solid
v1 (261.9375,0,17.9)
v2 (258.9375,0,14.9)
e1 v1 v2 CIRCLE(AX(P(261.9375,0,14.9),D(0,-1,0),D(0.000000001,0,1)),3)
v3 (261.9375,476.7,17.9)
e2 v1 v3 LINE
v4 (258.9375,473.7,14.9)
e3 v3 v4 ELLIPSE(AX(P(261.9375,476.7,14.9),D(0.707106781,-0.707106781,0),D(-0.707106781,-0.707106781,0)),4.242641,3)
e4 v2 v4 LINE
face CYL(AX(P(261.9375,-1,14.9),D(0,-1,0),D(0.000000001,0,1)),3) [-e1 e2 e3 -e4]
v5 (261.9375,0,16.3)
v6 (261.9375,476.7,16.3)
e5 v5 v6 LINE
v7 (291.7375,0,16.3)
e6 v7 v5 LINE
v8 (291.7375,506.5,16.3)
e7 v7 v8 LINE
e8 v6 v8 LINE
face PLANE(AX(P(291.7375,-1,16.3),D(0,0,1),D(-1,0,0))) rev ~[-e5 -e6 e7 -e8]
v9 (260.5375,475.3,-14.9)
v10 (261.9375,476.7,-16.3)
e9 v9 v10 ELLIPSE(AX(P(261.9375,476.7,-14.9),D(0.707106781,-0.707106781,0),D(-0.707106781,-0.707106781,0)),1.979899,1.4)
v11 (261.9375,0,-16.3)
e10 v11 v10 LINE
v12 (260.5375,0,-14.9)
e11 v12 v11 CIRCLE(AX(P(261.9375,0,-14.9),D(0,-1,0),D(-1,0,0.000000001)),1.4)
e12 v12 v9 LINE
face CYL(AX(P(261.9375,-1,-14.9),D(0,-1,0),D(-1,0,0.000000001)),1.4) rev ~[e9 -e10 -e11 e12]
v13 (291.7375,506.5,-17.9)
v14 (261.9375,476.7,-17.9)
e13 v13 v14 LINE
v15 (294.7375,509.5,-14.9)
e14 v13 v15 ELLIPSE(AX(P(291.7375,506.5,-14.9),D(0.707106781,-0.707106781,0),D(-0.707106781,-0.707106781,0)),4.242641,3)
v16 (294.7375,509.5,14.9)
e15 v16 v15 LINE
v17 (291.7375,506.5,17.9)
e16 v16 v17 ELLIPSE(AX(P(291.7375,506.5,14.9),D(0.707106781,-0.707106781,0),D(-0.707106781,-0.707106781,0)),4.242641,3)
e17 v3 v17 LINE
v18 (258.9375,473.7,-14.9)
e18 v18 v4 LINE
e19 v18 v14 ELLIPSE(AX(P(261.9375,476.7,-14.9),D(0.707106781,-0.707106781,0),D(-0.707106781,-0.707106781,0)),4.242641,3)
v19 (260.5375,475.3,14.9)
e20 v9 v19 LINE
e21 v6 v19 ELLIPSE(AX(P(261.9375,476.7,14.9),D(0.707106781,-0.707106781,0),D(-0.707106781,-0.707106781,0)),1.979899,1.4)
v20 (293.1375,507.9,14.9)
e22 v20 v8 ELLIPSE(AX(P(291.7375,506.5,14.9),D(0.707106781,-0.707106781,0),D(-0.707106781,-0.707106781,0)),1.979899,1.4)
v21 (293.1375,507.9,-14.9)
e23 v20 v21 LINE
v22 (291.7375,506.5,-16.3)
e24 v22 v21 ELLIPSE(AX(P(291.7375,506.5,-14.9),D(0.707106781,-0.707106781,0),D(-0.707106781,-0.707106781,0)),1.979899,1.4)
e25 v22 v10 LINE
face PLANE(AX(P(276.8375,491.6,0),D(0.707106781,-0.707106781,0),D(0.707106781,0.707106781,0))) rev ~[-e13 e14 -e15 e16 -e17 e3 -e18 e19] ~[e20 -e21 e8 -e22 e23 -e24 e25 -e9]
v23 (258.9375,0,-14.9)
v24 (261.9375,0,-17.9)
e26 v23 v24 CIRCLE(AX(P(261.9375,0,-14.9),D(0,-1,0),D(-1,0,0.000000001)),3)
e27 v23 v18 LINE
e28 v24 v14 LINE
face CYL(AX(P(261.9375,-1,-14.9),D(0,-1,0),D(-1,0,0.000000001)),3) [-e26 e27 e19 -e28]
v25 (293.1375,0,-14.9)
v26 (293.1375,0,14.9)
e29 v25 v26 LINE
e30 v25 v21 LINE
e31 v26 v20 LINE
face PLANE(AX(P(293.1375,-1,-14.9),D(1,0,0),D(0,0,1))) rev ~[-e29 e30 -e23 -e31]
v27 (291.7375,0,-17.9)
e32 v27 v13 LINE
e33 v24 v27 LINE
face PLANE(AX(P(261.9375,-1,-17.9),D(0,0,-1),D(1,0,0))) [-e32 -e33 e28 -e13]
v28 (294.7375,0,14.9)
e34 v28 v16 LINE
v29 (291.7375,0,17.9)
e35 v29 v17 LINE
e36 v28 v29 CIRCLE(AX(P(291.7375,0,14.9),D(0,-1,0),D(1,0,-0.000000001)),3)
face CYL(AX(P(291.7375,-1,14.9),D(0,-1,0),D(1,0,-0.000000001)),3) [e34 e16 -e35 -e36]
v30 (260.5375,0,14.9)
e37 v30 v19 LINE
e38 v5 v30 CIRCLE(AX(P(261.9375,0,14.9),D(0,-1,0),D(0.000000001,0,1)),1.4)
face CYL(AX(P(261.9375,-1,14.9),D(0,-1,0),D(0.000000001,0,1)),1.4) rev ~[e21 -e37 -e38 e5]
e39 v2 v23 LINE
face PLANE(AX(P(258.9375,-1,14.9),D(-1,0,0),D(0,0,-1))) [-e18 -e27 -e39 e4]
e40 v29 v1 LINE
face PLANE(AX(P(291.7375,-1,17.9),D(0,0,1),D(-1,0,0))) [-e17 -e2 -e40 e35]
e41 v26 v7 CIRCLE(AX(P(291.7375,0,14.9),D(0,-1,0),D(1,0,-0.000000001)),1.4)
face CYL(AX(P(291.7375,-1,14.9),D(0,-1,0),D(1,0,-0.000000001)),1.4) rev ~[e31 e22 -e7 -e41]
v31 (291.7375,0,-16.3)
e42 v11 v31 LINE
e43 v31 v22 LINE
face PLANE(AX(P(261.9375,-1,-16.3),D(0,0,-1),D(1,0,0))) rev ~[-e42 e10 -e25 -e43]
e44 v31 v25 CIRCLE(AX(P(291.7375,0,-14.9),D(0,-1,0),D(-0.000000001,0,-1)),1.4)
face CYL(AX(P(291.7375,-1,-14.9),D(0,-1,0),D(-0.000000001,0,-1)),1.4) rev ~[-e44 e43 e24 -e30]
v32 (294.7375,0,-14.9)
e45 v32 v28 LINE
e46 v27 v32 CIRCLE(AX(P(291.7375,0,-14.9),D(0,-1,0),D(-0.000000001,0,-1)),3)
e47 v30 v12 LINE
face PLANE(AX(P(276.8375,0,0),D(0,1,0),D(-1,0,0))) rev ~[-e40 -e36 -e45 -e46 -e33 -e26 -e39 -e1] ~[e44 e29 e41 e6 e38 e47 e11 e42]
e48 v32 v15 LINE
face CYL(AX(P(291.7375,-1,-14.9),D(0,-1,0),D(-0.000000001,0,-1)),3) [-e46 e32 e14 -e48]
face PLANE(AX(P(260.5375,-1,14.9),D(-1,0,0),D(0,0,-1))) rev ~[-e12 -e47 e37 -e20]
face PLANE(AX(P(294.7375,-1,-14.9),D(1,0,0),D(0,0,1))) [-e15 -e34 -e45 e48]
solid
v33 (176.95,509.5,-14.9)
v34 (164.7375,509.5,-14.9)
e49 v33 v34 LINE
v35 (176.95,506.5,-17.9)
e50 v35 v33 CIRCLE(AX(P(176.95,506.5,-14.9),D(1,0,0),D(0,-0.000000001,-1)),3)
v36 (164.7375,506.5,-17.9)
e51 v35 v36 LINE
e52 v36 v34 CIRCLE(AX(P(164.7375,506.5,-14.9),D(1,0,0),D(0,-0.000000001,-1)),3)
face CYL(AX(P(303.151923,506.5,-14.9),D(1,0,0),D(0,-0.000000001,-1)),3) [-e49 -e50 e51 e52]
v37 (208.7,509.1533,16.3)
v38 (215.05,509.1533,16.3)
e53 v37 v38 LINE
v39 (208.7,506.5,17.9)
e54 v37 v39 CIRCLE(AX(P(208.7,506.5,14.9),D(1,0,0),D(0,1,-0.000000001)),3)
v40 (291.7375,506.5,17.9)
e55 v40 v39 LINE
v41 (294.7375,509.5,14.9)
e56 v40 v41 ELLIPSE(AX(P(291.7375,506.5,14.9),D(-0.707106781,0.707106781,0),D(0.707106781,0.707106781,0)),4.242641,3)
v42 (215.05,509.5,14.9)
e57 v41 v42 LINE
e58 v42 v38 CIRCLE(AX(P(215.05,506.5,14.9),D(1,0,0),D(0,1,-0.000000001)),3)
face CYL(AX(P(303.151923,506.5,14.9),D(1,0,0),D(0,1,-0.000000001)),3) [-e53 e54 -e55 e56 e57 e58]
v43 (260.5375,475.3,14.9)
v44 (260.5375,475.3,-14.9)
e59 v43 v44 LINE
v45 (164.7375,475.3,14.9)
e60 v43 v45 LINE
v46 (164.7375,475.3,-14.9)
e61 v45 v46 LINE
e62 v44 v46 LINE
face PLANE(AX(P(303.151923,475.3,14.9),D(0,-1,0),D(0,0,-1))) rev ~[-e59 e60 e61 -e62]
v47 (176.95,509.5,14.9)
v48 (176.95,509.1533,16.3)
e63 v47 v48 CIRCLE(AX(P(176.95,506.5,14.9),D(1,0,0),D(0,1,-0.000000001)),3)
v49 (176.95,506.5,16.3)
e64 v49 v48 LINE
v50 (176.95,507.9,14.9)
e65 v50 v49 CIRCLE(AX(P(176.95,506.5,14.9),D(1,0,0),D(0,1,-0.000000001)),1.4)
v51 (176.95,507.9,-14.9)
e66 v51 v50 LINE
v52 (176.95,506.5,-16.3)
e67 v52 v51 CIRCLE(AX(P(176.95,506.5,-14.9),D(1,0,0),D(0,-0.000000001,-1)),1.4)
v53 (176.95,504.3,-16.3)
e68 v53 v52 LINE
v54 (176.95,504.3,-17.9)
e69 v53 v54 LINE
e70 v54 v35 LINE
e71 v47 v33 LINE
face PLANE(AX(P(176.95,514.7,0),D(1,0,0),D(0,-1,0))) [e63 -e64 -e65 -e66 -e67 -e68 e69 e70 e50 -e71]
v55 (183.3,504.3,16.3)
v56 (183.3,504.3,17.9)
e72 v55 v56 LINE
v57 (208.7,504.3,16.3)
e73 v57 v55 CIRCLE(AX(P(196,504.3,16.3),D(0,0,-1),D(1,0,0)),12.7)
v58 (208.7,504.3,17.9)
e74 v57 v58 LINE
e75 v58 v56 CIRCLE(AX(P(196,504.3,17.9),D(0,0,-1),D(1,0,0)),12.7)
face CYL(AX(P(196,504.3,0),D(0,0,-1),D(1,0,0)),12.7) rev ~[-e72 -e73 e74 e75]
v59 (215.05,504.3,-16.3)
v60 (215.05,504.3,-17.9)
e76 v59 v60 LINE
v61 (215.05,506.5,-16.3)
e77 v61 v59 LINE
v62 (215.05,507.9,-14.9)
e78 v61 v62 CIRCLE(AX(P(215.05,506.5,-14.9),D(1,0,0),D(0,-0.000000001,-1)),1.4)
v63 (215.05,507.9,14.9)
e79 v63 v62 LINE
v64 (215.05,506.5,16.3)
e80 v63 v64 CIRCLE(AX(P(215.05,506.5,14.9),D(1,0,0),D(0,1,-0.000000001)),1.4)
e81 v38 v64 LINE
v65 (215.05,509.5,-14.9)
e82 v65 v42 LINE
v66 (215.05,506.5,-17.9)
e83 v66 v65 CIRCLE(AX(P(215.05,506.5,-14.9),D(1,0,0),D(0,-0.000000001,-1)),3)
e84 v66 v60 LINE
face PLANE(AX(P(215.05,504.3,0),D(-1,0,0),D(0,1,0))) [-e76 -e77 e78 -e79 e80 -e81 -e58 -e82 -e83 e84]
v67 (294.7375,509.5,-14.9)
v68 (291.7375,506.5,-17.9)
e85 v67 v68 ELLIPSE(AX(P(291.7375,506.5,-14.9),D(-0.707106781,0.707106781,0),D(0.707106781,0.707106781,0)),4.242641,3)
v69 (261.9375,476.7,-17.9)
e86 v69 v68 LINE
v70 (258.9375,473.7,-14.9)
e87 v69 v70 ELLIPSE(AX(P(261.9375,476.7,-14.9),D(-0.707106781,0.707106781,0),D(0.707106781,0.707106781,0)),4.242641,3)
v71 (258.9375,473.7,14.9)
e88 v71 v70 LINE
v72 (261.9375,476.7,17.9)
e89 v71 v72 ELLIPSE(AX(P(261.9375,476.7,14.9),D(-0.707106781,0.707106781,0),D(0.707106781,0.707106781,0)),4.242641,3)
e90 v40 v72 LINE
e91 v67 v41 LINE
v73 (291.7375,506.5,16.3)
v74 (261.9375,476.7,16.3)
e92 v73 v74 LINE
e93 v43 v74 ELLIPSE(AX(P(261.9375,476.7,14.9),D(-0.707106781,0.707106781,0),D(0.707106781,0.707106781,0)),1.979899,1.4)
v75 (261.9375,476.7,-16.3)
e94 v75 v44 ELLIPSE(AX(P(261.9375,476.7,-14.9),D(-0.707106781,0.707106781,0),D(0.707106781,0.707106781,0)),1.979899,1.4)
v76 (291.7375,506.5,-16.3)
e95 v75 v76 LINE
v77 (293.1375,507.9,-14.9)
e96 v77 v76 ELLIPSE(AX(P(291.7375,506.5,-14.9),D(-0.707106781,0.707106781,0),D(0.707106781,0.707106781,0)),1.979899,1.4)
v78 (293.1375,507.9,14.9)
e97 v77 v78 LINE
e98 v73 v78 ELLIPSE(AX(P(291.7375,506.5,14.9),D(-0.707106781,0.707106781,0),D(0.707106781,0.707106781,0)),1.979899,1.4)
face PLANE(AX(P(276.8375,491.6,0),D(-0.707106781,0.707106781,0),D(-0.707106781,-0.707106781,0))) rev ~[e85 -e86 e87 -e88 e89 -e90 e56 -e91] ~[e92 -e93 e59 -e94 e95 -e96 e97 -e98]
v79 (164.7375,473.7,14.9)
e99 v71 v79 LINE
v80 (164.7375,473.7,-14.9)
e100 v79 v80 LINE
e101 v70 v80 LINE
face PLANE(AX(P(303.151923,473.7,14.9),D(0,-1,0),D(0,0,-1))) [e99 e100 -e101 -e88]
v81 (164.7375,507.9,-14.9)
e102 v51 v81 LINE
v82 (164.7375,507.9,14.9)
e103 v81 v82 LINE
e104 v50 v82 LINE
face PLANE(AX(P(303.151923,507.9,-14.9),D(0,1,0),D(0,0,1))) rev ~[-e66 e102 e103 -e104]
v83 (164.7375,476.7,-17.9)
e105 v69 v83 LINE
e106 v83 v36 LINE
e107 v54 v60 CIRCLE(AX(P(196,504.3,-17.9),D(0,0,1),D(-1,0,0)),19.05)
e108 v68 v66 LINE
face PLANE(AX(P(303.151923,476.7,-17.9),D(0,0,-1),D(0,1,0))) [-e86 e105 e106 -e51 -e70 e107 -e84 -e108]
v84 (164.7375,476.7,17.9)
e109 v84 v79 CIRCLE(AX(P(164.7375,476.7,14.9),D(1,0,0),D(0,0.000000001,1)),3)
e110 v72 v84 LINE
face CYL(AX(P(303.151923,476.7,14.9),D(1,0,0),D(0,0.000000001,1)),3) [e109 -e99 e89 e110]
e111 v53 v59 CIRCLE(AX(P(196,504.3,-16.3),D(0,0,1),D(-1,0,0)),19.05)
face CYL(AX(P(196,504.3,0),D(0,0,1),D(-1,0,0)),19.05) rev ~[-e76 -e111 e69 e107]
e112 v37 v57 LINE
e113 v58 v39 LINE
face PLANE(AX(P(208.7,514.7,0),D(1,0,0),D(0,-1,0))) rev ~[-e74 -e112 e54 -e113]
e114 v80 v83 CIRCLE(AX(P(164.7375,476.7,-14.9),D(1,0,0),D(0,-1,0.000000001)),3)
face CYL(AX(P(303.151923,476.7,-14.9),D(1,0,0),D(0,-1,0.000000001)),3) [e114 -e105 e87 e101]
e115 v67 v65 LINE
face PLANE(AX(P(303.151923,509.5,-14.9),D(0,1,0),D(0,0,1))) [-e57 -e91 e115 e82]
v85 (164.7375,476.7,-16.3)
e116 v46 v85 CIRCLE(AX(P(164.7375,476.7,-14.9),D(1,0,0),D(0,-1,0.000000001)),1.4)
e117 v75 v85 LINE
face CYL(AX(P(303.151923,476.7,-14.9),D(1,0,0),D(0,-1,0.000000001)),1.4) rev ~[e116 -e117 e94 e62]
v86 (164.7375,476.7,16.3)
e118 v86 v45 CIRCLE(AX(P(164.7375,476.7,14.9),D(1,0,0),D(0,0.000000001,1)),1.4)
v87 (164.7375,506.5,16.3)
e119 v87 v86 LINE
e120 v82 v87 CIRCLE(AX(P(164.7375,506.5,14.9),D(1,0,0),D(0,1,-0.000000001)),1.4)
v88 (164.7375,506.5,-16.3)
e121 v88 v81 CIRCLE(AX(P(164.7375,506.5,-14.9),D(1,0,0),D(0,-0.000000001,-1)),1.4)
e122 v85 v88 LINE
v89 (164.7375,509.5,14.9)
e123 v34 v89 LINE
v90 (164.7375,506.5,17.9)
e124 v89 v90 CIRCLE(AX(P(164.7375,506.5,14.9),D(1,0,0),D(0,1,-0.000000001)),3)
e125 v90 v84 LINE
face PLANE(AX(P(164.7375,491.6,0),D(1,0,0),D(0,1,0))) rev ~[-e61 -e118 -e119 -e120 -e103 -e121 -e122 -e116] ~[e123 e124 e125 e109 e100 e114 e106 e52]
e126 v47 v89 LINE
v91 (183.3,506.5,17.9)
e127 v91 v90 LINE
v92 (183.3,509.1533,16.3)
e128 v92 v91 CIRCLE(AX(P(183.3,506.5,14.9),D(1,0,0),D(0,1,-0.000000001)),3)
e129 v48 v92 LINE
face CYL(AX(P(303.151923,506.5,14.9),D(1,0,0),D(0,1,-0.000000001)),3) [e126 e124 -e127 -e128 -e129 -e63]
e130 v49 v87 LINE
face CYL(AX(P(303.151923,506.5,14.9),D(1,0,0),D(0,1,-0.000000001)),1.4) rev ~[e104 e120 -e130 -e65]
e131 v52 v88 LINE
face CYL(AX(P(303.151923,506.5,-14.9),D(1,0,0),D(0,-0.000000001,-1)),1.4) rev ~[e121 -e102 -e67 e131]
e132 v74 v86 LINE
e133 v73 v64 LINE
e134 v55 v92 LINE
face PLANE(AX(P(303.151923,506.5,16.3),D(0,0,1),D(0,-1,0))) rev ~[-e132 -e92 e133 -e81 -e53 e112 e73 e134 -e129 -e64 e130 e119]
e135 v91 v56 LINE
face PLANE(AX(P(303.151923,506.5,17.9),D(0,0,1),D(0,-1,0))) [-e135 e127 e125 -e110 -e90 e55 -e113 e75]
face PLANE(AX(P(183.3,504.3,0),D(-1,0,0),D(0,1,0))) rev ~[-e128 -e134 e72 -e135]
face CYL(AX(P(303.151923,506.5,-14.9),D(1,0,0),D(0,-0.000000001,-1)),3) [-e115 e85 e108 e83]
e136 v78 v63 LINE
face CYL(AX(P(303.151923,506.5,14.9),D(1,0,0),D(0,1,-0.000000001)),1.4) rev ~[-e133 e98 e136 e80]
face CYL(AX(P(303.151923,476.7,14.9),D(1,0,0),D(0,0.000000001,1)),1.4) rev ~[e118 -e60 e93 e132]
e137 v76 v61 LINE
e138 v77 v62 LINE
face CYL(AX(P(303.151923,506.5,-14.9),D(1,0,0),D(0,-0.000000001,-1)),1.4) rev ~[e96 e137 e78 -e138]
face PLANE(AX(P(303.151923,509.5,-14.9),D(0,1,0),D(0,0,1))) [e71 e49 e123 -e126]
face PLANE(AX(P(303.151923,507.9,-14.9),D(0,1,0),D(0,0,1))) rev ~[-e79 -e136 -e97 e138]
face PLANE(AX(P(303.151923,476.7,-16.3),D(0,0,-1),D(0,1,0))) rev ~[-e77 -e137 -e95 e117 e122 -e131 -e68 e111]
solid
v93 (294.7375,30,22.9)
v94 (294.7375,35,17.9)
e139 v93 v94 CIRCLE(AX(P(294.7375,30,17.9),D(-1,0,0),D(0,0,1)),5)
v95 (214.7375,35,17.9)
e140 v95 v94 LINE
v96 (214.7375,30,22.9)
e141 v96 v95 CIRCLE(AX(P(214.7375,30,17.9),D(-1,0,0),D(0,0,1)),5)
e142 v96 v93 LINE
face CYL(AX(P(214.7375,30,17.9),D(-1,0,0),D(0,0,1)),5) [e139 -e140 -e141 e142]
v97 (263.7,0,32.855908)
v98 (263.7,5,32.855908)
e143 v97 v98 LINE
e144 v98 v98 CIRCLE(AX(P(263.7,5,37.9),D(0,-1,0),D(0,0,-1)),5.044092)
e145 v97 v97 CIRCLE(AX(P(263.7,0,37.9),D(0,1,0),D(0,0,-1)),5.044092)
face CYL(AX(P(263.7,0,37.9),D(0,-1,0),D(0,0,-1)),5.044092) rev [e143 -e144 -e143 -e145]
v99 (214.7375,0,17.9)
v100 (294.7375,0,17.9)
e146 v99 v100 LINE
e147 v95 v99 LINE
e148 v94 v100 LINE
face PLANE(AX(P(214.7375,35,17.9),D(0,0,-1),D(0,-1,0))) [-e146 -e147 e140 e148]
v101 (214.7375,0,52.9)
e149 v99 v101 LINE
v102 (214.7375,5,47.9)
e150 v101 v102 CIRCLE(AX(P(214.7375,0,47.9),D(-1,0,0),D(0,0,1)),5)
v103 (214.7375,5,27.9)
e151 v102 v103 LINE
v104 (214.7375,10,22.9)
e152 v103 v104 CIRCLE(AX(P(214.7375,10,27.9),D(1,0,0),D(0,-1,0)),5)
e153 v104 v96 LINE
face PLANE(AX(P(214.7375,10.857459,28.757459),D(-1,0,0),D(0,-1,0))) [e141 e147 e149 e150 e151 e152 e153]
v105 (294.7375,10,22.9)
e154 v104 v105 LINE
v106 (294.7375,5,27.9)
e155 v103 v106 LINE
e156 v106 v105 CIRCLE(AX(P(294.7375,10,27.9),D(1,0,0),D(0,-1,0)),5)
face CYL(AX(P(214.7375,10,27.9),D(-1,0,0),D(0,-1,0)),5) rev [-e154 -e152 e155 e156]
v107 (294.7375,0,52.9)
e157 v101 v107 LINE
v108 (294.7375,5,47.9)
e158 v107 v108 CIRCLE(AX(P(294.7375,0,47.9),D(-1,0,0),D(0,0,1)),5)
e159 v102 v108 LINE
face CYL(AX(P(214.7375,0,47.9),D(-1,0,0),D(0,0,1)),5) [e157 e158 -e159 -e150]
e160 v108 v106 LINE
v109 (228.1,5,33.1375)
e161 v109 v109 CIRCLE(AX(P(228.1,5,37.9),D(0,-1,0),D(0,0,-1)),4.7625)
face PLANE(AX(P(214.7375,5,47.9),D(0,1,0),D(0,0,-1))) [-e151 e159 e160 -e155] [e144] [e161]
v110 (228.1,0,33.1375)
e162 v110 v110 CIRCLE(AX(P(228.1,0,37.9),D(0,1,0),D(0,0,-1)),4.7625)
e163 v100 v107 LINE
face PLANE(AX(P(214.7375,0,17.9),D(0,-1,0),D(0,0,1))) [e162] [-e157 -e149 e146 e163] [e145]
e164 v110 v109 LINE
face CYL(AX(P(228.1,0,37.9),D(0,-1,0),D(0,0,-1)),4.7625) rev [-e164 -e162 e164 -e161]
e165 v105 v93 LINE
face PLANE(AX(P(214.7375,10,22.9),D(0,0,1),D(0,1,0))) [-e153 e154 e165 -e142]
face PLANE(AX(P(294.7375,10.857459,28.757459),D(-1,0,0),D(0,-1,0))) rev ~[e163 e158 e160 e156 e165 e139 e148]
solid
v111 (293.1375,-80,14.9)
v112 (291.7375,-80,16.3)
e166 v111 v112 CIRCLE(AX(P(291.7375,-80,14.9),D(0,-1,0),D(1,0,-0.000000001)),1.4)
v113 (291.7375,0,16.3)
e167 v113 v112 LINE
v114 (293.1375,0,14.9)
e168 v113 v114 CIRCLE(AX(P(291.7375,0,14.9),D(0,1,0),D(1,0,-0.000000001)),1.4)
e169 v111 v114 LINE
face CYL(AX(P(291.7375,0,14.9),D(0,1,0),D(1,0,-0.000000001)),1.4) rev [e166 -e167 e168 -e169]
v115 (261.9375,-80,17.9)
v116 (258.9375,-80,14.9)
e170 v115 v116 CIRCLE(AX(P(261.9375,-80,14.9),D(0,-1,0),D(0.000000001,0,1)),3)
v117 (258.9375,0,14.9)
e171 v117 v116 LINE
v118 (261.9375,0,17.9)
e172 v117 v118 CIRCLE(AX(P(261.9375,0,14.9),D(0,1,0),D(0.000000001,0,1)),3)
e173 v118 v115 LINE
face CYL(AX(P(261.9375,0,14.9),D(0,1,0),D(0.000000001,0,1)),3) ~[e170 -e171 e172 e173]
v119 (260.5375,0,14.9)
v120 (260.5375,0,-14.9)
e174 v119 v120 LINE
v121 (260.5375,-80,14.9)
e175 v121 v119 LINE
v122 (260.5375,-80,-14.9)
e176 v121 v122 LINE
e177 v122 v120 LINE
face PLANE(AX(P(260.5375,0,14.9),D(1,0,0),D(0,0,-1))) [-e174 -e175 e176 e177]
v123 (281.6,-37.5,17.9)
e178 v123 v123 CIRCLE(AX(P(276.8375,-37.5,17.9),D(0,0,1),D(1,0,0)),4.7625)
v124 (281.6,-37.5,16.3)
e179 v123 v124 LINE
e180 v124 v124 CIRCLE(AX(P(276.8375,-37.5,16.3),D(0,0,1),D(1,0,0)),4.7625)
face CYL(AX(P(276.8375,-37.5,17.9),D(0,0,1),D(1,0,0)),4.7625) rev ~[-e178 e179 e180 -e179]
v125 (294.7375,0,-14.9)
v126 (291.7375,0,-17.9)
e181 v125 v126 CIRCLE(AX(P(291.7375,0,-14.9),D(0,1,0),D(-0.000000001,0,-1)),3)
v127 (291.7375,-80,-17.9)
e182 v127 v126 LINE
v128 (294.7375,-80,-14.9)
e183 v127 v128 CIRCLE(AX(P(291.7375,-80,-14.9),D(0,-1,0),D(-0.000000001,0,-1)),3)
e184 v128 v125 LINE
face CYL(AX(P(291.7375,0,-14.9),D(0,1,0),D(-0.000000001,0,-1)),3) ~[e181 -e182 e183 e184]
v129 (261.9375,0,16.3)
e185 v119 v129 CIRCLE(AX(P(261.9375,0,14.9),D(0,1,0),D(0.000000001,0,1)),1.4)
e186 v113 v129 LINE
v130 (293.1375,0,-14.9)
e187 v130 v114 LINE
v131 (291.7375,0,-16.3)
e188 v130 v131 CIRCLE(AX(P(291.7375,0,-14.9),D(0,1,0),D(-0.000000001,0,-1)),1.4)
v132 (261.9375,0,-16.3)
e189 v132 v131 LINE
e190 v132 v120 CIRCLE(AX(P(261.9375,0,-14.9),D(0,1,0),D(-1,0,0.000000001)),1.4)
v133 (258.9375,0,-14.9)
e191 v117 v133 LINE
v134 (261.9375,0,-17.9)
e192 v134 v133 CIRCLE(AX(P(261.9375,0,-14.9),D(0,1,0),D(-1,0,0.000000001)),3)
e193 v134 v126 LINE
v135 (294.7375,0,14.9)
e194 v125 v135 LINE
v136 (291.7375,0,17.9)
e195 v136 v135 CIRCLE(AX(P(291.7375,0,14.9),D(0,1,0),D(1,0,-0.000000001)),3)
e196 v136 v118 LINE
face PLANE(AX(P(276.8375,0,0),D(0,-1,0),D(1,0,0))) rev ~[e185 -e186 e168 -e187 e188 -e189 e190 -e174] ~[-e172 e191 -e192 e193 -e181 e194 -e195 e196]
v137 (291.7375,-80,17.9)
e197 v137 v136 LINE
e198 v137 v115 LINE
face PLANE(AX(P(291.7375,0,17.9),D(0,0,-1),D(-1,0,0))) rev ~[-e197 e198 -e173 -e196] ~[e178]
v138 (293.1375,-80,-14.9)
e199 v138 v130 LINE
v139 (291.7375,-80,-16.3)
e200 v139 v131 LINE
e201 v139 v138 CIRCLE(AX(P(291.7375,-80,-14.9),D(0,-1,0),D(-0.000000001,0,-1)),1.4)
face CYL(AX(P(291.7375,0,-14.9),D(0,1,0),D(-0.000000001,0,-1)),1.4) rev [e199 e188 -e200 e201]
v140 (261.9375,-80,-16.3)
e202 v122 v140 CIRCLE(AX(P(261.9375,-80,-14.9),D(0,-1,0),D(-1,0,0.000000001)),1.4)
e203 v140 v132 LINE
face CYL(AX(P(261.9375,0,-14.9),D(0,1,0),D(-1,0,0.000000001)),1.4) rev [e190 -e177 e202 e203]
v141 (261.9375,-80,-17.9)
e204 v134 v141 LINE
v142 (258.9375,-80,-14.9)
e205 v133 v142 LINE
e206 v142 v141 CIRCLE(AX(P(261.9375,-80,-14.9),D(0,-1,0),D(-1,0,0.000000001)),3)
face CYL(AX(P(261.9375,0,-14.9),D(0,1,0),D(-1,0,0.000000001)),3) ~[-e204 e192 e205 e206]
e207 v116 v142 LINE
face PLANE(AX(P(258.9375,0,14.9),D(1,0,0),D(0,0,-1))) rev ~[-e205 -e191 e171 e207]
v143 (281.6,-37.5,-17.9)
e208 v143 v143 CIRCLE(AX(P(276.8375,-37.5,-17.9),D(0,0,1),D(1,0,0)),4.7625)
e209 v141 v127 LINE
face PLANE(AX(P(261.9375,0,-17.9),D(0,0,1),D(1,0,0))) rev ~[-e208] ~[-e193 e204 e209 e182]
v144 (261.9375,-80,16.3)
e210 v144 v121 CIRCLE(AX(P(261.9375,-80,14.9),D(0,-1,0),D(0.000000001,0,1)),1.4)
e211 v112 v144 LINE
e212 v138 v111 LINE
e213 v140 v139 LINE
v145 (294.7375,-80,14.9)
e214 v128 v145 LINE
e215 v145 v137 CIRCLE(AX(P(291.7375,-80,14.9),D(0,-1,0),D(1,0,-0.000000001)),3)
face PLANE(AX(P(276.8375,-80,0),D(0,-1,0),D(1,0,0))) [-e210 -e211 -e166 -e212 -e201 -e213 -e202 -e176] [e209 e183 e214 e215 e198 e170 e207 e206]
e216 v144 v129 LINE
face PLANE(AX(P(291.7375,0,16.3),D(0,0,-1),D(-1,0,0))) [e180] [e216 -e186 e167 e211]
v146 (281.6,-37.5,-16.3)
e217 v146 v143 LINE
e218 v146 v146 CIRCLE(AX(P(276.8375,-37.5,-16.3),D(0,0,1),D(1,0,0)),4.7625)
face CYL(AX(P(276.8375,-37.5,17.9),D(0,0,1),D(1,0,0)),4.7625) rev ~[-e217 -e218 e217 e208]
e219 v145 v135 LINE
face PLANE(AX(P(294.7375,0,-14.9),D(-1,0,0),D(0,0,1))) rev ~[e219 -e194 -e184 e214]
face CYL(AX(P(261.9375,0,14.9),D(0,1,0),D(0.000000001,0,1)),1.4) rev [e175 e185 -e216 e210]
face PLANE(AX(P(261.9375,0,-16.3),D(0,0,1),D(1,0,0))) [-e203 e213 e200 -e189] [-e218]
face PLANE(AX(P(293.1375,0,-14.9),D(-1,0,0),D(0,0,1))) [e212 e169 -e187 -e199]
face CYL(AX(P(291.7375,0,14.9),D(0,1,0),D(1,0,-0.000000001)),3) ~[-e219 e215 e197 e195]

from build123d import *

# Parameters (mm, degrees)
STRUCTURAL_MEMBERMAIN_DEPTH                   = 1
STRUCTURAL_MEMBERMAIN_DEPTH_BACK              = 80
STRUCTURAL_MEMBERMAIN_2_DEPTH                 = 518.914422766
STRUCTURAL_MEMBERMAIN_3_DEPTH                 = 138.414422766
CUT_EXTRUDETOPRAILGUIDE_DEPTH                 = 589.881018463
CUT_EXTRUDETOPRAILGUIDE_DEPTH_BACK            = 589.881018463
STRUCTURAL_MEMBERANGLE_DEPTH                  = 80
SKETCH15_R                                    = 4.7625
SKETCH15_R_2                                  = 5.044092484
CUT_EXTRUDEMOUNTINGHOLES_DEPTH                = 591.981263583
CUT_EXTRUDEENLARGERAILGUIDE_DEPTH             = 591.981263583
CUT_EXTRUDEENLARGERAILGUIDE_DIRECTION_2_REACH = 592.981
SKETCH17_R                                    = 4.7625
CUT_EXTRUDE1_DEPTH                            = 590.696603268


with BuildPart() as part:
    # Sketch11 → Structural MemberMain (new, two sides)
    with BuildSketch(Plane(origin=(276.8375, 0, 0), x_dir=(-1, 0, 0), z_dir=(0, 1, 0))) as structural_membermain_sk:
        with BuildLine():
            Line((-14.9, 17.9), (14.9, 17.9))
            ThreePointArc((14.9, 17.9), (17.021320344, 17.021320344), (17.9, 14.9))
            Line((17.9, 14.9), (17.9, -14.9))
            ThreePointArc((17.9, -14.9), (17.021320344, -17.021320344), (14.9, -17.9))
            Line((14.9, -17.9), (-14.9, -17.9))
            ThreePointArc((-14.9, -17.9), (-17.021320344, -17.021320344), (-17.9, -14.9))
            Line((-17.9, -14.9), (-17.9, 14.9))
            ThreePointArc((-17.9, 14.9), (-17.021320344, 17.021320344), (-14.9, 17.9))
        make_face()
        with BuildLine():
            Line((-14.9, 16.3), (14.9, 16.3))
            ThreePointArc((14.9, 16.3), (15.889949494, 15.889949494), (16.3, 14.9))
            Line((16.3, 14.9), (16.3, -14.9))
            ThreePointArc((16.3, -14.9), (15.889949494, -15.889949494), (14.9, -16.3))
            Line((14.9, -16.3), (-14.9, -16.3))
            ThreePointArc((-14.9, -16.3), (-15.889949494, -15.889949494), (-16.3, -14.9))
            Line((-16.3, -14.9), (-16.3, 14.9))
            ThreePointArc((-16.3, 14.9), (-15.889949494, 15.889949494), (-14.9, 16.3))
        make_face(mode=Mode.SUBTRACT)
    extrude(amount=STRUCTURAL_MEMBERMAIN_DEPTH)
    extrude(structural_membermain_sk.sketch, amount=-STRUCTURAL_MEMBERMAIN_DEPTH_BACK)

    # Structural MemberMain mitre 1
    split(bisect_by=Plane(origin=(276.8375, 0, 0), x_dir=(1, 0, 0), z_dir=(0, -1, 0)), keep=Keep.TOP)

    # Sketch17 → Cut-Extrude1 (cut, through all)
    with BuildSketch(Plane.XY.offset(17.9)):
        with Locations((276.8375, -37.5)):
            Circle(SKETCH17_R)
    extrude(amount=-CUT_EXTRUDE1_DEPTH, mode=Mode.SUBTRACT)


with BuildPart() as body_2:
    # Sketch11 on segment 2 (carried to segment 2) → Structural MemberMain 2 (new body)
    with BuildSketch(Plane(origin=(276.8375, -1, 0), x_dir=(-1, 0, 0), z_dir=(0, 1, 0))):
        with BuildLine():
            Line((-14.9, 17.9), (14.9, 17.9))
            ThreePointArc((14.9, 17.9), (17.021320344, 17.021320344), (17.9, 14.9))
            Line((17.9, 14.9), (17.9, -14.9))
            ThreePointArc((17.9, -14.9), (17.021320344, -17.021320344), (14.9, -17.9))
            Line((14.9, -17.9), (-14.9, -17.9))
            ThreePointArc((-14.9, -17.9), (-17.021320344, -17.021320344), (-17.9, -14.9))
            Line((-17.9, -14.9), (-17.9, 14.9))
            ThreePointArc((-17.9, 14.9), (-17.021320344, 17.021320344), (-14.9, 17.9))
        make_face()
        with BuildLine():
            Line((-14.9, 16.3), (14.9, 16.3))
            ThreePointArc((14.9, 16.3), (15.889949494, 15.889949494), (16.3, 14.9))
            Line((16.3, 14.9), (16.3, -14.9))
            ThreePointArc((16.3, -14.9), (15.889949494, -15.889949494), (14.9, -16.3))
            Line((14.9, -16.3), (-14.9, -16.3))
            ThreePointArc((-14.9, -16.3), (-15.889949494, -15.889949494), (-16.3, -14.9))
            Line((-16.3, -14.9), (-16.3, 14.9))
            ThreePointArc((-16.3, 14.9), (-15.889949494, 15.889949494), (-14.9, 16.3))
        make_face(mode=Mode.SUBTRACT)
    extrude(amount=STRUCTURAL_MEMBERMAIN_2_DEPTH)

    # Structural MemberMain 2 mitre 1
    split(bisect_by=Plane(origin=(276.8375, 0, 0), x_dir=(-1, 0, 0), z_dir=(0, 1, 0)), keep=Keep.TOP)

    # Structural MemberMain 2 mitre 2
    split(bisect_by=Plane(origin=(276.8375, 491.6, 0), x_dir=(0.707106781, 0.707106781, 0), z_dir=(0.707106781, -0.707106781, 0)), keep=Keep.TOP)


with BuildPart() as body_3:
    # Sketch11 on segment 3 (carried to segment 3) → Structural MemberMain 3 (new body)
    with BuildSketch(Plane(origin=(303.151922766, 491.6, 0), x_dir=(0, -1, 0), z_dir=(-1, 0, 0))):
        with BuildLine():
            Line((-14.9, 17.9), (14.9, 17.9))
            ThreePointArc((14.9, 17.9), (17.021320344, 17.021320344), (17.9, 14.9))
            Line((17.9, 14.9), (17.9, -14.9))
            ThreePointArc((17.9, -14.9), (17.021320344, -17.021320344), (14.9, -17.9))
            Line((14.9, -17.9), (-14.9, -17.9))
            ThreePointArc((-14.9, -17.9), (-17.021320344, -17.021320344), (-17.9, -14.9))
            Line((-17.9, -14.9), (-17.9, 14.9))
            ThreePointArc((-17.9, 14.9), (-17.021320344, 17.021320344), (-14.9, 17.9))
        make_face()
        with BuildLine():
            Line((-14.9, 16.3), (14.9, 16.3))
            ThreePointArc((14.9, 16.3), (15.889949494, 15.889949494), (16.3, 14.9))
            Line((16.3, 14.9), (16.3, -14.9))
            ThreePointArc((16.3, -14.9), (15.889949494, -15.889949494), (14.9, -16.3))
            Line((14.9, -16.3), (-14.9, -16.3))
            ThreePointArc((-14.9, -16.3), (-15.889949494, -15.889949494), (-16.3, -14.9))
            Line((-16.3, -14.9), (-16.3, 14.9))
            ThreePointArc((-16.3, 14.9), (-15.889949494, 15.889949494), (-14.9, 16.3))
        make_face(mode=Mode.SUBTRACT)
    extrude(amount=STRUCTURAL_MEMBERMAIN_3_DEPTH)

    # Structural MemberMain 3 mitre 1
    split(bisect_by=Plane(origin=(276.8375, 491.6, 0), x_dir=(-0.707106781, -0.707106781, 0), z_dir=(-0.707106781, 0.707106781, 0)), keep=Keep.TOP)

    # Sketch12 → Cut-ExtrudeTopRailGuide (cut, two sides)
    with BuildSketch(Plane.XY) as cut_extrudetoprailguide_sk:
        with BuildLine():
            Line((183.3, 504.3), (183.3, 514.7))
            ThreePointArc((183.3, 514.7), (196, 527.4), (208.7, 514.7))
            Line((208.7, 514.7), (208.7, 504.3))
            ThreePointArc((208.7, 504.3), (196, 491.6), (183.3, 504.3))
        make_face()
    extrude(amount=CUT_EXTRUDETOPRAILGUIDE_DEPTH, mode=Mode.SUBTRACT)
    extrude(cut_extrudetoprailguide_sk.sketch, amount=-CUT_EXTRUDETOPRAILGUIDE_DEPTH_BACK, mode=Mode.SUBTRACT)

    # Sketch16 → Cut-ExtrudeEnlargeRailGuide (cut)
    with BuildSketch(Plane.XY):
        with BuildLine():
            Line((215.05, 504.3), (215.05, 514.7))
            ThreePointArc((215.05, 514.7), (196, 533.75), (176.95, 514.7))
            Line((176.95, 514.7), (176.95, 504.3))
            ThreePointArc((176.95, 504.3), (196, 485.25), (215.05, 504.3))
        make_face()
    extrude(amount=-CUT_EXTRUDEENLARGERAILGUIDE_DEPTH, mode=Mode.SUBTRACT)

    # Cut-ExtrudeEnlargeRailGuide direction 2: up to this face of the body (flat: up to its plane)
    cut_extrudeenlargerailguide_direction_2_end = Plane(body_3.part.faces().sort_by_distance((223.67987198, 491.462157452, 16.3))[0])
    # Sketch16 → Cut-ExtrudeEnlargeRailGuide direction 2 (cut, up to the picked face)
    with BuildSketch(Plane.XY, mode=Mode.PRIVATE) as cut_extrudeenlargerailguide_direction_2_sk1:
        with BuildLine():
            Line((215.05, 504.3), (215.05, 514.7))
            ThreePointArc((215.05, 514.7), (196, 533.75), (176.95, 514.7))
            Line((176.95, 514.7), (176.95, 504.3))
            ThreePointArc((176.95, 504.3), (196, 485.25), (215.05, 504.3))
        make_face()
    cut_extrudeenlargerailguide_direction_2_tool1 = split(extrude(cut_extrudeenlargerailguide_direction_2_sk1.sketch, amount=CUT_EXTRUDEENLARGERAILGUIDE_DIRECTION_2_REACH, mode=Mode.PRIVATE), bisect_by=cut_extrudeenlargerailguide_direction_2_end, keep=Keep.BOTH, mode=Mode.PRIVATE)
    add(cut_extrudeenlargerailguide_direction_2_tool1.solids().sort_by(Axis((196, 509.5, 0), (0, 0, 1)))[0], mode=Mode.SUBTRACT)


with BuildPart() as body_4:
    # Sketch14 → Structural MemberAngle (new body)
    with BuildSketch(Plane(origin=(214.7375, 0, 17.9), x_dir=(0, 1, 0), z_dir=(1, 0, 0))):
        with BuildLine():
            Line((0, 0), (0, 35))
            ThreePointArc((0, 35), (3.535533906, 33.535533906), (5, 30))
            Line((5, 30), (5, 10))
            ThreePointArc((5, 10), (6.464466094, 6.464466094), (10, 5))
            Line((10, 5), (30, 5))
            ThreePointArc((30, 5), (33.535533906, 3.535533906), (35, 0))
            Line((35, 0), (0, 0))
        make_face()
    extrude(amount=STRUCTURAL_MEMBERANGLE_DEPTH)

    # Sketch15 → Cut-ExtrudeMountingHoles (cut, through all)
    with BuildSketch(Plane(origin=(0, 0, 0), x_dir=(1, 0, 0), z_dir=(0, 1, 0))):
        with Locations(Location((228.1, -37.9, 0), (0, 0, 90))):
            Circle(SKETCH15_R)
        with Locations(Location((263.7, -37.9, 0), (0, 0, 90))):
            Circle(SKETCH15_R_2)
    extrude(amount=CUT_EXTRUDEMOUNTINGHOLES_DEPTH, mode=Mode.SUBTRACT)


solid = Compound([part.part, body_2.part, body_3.part, body_4.part])
